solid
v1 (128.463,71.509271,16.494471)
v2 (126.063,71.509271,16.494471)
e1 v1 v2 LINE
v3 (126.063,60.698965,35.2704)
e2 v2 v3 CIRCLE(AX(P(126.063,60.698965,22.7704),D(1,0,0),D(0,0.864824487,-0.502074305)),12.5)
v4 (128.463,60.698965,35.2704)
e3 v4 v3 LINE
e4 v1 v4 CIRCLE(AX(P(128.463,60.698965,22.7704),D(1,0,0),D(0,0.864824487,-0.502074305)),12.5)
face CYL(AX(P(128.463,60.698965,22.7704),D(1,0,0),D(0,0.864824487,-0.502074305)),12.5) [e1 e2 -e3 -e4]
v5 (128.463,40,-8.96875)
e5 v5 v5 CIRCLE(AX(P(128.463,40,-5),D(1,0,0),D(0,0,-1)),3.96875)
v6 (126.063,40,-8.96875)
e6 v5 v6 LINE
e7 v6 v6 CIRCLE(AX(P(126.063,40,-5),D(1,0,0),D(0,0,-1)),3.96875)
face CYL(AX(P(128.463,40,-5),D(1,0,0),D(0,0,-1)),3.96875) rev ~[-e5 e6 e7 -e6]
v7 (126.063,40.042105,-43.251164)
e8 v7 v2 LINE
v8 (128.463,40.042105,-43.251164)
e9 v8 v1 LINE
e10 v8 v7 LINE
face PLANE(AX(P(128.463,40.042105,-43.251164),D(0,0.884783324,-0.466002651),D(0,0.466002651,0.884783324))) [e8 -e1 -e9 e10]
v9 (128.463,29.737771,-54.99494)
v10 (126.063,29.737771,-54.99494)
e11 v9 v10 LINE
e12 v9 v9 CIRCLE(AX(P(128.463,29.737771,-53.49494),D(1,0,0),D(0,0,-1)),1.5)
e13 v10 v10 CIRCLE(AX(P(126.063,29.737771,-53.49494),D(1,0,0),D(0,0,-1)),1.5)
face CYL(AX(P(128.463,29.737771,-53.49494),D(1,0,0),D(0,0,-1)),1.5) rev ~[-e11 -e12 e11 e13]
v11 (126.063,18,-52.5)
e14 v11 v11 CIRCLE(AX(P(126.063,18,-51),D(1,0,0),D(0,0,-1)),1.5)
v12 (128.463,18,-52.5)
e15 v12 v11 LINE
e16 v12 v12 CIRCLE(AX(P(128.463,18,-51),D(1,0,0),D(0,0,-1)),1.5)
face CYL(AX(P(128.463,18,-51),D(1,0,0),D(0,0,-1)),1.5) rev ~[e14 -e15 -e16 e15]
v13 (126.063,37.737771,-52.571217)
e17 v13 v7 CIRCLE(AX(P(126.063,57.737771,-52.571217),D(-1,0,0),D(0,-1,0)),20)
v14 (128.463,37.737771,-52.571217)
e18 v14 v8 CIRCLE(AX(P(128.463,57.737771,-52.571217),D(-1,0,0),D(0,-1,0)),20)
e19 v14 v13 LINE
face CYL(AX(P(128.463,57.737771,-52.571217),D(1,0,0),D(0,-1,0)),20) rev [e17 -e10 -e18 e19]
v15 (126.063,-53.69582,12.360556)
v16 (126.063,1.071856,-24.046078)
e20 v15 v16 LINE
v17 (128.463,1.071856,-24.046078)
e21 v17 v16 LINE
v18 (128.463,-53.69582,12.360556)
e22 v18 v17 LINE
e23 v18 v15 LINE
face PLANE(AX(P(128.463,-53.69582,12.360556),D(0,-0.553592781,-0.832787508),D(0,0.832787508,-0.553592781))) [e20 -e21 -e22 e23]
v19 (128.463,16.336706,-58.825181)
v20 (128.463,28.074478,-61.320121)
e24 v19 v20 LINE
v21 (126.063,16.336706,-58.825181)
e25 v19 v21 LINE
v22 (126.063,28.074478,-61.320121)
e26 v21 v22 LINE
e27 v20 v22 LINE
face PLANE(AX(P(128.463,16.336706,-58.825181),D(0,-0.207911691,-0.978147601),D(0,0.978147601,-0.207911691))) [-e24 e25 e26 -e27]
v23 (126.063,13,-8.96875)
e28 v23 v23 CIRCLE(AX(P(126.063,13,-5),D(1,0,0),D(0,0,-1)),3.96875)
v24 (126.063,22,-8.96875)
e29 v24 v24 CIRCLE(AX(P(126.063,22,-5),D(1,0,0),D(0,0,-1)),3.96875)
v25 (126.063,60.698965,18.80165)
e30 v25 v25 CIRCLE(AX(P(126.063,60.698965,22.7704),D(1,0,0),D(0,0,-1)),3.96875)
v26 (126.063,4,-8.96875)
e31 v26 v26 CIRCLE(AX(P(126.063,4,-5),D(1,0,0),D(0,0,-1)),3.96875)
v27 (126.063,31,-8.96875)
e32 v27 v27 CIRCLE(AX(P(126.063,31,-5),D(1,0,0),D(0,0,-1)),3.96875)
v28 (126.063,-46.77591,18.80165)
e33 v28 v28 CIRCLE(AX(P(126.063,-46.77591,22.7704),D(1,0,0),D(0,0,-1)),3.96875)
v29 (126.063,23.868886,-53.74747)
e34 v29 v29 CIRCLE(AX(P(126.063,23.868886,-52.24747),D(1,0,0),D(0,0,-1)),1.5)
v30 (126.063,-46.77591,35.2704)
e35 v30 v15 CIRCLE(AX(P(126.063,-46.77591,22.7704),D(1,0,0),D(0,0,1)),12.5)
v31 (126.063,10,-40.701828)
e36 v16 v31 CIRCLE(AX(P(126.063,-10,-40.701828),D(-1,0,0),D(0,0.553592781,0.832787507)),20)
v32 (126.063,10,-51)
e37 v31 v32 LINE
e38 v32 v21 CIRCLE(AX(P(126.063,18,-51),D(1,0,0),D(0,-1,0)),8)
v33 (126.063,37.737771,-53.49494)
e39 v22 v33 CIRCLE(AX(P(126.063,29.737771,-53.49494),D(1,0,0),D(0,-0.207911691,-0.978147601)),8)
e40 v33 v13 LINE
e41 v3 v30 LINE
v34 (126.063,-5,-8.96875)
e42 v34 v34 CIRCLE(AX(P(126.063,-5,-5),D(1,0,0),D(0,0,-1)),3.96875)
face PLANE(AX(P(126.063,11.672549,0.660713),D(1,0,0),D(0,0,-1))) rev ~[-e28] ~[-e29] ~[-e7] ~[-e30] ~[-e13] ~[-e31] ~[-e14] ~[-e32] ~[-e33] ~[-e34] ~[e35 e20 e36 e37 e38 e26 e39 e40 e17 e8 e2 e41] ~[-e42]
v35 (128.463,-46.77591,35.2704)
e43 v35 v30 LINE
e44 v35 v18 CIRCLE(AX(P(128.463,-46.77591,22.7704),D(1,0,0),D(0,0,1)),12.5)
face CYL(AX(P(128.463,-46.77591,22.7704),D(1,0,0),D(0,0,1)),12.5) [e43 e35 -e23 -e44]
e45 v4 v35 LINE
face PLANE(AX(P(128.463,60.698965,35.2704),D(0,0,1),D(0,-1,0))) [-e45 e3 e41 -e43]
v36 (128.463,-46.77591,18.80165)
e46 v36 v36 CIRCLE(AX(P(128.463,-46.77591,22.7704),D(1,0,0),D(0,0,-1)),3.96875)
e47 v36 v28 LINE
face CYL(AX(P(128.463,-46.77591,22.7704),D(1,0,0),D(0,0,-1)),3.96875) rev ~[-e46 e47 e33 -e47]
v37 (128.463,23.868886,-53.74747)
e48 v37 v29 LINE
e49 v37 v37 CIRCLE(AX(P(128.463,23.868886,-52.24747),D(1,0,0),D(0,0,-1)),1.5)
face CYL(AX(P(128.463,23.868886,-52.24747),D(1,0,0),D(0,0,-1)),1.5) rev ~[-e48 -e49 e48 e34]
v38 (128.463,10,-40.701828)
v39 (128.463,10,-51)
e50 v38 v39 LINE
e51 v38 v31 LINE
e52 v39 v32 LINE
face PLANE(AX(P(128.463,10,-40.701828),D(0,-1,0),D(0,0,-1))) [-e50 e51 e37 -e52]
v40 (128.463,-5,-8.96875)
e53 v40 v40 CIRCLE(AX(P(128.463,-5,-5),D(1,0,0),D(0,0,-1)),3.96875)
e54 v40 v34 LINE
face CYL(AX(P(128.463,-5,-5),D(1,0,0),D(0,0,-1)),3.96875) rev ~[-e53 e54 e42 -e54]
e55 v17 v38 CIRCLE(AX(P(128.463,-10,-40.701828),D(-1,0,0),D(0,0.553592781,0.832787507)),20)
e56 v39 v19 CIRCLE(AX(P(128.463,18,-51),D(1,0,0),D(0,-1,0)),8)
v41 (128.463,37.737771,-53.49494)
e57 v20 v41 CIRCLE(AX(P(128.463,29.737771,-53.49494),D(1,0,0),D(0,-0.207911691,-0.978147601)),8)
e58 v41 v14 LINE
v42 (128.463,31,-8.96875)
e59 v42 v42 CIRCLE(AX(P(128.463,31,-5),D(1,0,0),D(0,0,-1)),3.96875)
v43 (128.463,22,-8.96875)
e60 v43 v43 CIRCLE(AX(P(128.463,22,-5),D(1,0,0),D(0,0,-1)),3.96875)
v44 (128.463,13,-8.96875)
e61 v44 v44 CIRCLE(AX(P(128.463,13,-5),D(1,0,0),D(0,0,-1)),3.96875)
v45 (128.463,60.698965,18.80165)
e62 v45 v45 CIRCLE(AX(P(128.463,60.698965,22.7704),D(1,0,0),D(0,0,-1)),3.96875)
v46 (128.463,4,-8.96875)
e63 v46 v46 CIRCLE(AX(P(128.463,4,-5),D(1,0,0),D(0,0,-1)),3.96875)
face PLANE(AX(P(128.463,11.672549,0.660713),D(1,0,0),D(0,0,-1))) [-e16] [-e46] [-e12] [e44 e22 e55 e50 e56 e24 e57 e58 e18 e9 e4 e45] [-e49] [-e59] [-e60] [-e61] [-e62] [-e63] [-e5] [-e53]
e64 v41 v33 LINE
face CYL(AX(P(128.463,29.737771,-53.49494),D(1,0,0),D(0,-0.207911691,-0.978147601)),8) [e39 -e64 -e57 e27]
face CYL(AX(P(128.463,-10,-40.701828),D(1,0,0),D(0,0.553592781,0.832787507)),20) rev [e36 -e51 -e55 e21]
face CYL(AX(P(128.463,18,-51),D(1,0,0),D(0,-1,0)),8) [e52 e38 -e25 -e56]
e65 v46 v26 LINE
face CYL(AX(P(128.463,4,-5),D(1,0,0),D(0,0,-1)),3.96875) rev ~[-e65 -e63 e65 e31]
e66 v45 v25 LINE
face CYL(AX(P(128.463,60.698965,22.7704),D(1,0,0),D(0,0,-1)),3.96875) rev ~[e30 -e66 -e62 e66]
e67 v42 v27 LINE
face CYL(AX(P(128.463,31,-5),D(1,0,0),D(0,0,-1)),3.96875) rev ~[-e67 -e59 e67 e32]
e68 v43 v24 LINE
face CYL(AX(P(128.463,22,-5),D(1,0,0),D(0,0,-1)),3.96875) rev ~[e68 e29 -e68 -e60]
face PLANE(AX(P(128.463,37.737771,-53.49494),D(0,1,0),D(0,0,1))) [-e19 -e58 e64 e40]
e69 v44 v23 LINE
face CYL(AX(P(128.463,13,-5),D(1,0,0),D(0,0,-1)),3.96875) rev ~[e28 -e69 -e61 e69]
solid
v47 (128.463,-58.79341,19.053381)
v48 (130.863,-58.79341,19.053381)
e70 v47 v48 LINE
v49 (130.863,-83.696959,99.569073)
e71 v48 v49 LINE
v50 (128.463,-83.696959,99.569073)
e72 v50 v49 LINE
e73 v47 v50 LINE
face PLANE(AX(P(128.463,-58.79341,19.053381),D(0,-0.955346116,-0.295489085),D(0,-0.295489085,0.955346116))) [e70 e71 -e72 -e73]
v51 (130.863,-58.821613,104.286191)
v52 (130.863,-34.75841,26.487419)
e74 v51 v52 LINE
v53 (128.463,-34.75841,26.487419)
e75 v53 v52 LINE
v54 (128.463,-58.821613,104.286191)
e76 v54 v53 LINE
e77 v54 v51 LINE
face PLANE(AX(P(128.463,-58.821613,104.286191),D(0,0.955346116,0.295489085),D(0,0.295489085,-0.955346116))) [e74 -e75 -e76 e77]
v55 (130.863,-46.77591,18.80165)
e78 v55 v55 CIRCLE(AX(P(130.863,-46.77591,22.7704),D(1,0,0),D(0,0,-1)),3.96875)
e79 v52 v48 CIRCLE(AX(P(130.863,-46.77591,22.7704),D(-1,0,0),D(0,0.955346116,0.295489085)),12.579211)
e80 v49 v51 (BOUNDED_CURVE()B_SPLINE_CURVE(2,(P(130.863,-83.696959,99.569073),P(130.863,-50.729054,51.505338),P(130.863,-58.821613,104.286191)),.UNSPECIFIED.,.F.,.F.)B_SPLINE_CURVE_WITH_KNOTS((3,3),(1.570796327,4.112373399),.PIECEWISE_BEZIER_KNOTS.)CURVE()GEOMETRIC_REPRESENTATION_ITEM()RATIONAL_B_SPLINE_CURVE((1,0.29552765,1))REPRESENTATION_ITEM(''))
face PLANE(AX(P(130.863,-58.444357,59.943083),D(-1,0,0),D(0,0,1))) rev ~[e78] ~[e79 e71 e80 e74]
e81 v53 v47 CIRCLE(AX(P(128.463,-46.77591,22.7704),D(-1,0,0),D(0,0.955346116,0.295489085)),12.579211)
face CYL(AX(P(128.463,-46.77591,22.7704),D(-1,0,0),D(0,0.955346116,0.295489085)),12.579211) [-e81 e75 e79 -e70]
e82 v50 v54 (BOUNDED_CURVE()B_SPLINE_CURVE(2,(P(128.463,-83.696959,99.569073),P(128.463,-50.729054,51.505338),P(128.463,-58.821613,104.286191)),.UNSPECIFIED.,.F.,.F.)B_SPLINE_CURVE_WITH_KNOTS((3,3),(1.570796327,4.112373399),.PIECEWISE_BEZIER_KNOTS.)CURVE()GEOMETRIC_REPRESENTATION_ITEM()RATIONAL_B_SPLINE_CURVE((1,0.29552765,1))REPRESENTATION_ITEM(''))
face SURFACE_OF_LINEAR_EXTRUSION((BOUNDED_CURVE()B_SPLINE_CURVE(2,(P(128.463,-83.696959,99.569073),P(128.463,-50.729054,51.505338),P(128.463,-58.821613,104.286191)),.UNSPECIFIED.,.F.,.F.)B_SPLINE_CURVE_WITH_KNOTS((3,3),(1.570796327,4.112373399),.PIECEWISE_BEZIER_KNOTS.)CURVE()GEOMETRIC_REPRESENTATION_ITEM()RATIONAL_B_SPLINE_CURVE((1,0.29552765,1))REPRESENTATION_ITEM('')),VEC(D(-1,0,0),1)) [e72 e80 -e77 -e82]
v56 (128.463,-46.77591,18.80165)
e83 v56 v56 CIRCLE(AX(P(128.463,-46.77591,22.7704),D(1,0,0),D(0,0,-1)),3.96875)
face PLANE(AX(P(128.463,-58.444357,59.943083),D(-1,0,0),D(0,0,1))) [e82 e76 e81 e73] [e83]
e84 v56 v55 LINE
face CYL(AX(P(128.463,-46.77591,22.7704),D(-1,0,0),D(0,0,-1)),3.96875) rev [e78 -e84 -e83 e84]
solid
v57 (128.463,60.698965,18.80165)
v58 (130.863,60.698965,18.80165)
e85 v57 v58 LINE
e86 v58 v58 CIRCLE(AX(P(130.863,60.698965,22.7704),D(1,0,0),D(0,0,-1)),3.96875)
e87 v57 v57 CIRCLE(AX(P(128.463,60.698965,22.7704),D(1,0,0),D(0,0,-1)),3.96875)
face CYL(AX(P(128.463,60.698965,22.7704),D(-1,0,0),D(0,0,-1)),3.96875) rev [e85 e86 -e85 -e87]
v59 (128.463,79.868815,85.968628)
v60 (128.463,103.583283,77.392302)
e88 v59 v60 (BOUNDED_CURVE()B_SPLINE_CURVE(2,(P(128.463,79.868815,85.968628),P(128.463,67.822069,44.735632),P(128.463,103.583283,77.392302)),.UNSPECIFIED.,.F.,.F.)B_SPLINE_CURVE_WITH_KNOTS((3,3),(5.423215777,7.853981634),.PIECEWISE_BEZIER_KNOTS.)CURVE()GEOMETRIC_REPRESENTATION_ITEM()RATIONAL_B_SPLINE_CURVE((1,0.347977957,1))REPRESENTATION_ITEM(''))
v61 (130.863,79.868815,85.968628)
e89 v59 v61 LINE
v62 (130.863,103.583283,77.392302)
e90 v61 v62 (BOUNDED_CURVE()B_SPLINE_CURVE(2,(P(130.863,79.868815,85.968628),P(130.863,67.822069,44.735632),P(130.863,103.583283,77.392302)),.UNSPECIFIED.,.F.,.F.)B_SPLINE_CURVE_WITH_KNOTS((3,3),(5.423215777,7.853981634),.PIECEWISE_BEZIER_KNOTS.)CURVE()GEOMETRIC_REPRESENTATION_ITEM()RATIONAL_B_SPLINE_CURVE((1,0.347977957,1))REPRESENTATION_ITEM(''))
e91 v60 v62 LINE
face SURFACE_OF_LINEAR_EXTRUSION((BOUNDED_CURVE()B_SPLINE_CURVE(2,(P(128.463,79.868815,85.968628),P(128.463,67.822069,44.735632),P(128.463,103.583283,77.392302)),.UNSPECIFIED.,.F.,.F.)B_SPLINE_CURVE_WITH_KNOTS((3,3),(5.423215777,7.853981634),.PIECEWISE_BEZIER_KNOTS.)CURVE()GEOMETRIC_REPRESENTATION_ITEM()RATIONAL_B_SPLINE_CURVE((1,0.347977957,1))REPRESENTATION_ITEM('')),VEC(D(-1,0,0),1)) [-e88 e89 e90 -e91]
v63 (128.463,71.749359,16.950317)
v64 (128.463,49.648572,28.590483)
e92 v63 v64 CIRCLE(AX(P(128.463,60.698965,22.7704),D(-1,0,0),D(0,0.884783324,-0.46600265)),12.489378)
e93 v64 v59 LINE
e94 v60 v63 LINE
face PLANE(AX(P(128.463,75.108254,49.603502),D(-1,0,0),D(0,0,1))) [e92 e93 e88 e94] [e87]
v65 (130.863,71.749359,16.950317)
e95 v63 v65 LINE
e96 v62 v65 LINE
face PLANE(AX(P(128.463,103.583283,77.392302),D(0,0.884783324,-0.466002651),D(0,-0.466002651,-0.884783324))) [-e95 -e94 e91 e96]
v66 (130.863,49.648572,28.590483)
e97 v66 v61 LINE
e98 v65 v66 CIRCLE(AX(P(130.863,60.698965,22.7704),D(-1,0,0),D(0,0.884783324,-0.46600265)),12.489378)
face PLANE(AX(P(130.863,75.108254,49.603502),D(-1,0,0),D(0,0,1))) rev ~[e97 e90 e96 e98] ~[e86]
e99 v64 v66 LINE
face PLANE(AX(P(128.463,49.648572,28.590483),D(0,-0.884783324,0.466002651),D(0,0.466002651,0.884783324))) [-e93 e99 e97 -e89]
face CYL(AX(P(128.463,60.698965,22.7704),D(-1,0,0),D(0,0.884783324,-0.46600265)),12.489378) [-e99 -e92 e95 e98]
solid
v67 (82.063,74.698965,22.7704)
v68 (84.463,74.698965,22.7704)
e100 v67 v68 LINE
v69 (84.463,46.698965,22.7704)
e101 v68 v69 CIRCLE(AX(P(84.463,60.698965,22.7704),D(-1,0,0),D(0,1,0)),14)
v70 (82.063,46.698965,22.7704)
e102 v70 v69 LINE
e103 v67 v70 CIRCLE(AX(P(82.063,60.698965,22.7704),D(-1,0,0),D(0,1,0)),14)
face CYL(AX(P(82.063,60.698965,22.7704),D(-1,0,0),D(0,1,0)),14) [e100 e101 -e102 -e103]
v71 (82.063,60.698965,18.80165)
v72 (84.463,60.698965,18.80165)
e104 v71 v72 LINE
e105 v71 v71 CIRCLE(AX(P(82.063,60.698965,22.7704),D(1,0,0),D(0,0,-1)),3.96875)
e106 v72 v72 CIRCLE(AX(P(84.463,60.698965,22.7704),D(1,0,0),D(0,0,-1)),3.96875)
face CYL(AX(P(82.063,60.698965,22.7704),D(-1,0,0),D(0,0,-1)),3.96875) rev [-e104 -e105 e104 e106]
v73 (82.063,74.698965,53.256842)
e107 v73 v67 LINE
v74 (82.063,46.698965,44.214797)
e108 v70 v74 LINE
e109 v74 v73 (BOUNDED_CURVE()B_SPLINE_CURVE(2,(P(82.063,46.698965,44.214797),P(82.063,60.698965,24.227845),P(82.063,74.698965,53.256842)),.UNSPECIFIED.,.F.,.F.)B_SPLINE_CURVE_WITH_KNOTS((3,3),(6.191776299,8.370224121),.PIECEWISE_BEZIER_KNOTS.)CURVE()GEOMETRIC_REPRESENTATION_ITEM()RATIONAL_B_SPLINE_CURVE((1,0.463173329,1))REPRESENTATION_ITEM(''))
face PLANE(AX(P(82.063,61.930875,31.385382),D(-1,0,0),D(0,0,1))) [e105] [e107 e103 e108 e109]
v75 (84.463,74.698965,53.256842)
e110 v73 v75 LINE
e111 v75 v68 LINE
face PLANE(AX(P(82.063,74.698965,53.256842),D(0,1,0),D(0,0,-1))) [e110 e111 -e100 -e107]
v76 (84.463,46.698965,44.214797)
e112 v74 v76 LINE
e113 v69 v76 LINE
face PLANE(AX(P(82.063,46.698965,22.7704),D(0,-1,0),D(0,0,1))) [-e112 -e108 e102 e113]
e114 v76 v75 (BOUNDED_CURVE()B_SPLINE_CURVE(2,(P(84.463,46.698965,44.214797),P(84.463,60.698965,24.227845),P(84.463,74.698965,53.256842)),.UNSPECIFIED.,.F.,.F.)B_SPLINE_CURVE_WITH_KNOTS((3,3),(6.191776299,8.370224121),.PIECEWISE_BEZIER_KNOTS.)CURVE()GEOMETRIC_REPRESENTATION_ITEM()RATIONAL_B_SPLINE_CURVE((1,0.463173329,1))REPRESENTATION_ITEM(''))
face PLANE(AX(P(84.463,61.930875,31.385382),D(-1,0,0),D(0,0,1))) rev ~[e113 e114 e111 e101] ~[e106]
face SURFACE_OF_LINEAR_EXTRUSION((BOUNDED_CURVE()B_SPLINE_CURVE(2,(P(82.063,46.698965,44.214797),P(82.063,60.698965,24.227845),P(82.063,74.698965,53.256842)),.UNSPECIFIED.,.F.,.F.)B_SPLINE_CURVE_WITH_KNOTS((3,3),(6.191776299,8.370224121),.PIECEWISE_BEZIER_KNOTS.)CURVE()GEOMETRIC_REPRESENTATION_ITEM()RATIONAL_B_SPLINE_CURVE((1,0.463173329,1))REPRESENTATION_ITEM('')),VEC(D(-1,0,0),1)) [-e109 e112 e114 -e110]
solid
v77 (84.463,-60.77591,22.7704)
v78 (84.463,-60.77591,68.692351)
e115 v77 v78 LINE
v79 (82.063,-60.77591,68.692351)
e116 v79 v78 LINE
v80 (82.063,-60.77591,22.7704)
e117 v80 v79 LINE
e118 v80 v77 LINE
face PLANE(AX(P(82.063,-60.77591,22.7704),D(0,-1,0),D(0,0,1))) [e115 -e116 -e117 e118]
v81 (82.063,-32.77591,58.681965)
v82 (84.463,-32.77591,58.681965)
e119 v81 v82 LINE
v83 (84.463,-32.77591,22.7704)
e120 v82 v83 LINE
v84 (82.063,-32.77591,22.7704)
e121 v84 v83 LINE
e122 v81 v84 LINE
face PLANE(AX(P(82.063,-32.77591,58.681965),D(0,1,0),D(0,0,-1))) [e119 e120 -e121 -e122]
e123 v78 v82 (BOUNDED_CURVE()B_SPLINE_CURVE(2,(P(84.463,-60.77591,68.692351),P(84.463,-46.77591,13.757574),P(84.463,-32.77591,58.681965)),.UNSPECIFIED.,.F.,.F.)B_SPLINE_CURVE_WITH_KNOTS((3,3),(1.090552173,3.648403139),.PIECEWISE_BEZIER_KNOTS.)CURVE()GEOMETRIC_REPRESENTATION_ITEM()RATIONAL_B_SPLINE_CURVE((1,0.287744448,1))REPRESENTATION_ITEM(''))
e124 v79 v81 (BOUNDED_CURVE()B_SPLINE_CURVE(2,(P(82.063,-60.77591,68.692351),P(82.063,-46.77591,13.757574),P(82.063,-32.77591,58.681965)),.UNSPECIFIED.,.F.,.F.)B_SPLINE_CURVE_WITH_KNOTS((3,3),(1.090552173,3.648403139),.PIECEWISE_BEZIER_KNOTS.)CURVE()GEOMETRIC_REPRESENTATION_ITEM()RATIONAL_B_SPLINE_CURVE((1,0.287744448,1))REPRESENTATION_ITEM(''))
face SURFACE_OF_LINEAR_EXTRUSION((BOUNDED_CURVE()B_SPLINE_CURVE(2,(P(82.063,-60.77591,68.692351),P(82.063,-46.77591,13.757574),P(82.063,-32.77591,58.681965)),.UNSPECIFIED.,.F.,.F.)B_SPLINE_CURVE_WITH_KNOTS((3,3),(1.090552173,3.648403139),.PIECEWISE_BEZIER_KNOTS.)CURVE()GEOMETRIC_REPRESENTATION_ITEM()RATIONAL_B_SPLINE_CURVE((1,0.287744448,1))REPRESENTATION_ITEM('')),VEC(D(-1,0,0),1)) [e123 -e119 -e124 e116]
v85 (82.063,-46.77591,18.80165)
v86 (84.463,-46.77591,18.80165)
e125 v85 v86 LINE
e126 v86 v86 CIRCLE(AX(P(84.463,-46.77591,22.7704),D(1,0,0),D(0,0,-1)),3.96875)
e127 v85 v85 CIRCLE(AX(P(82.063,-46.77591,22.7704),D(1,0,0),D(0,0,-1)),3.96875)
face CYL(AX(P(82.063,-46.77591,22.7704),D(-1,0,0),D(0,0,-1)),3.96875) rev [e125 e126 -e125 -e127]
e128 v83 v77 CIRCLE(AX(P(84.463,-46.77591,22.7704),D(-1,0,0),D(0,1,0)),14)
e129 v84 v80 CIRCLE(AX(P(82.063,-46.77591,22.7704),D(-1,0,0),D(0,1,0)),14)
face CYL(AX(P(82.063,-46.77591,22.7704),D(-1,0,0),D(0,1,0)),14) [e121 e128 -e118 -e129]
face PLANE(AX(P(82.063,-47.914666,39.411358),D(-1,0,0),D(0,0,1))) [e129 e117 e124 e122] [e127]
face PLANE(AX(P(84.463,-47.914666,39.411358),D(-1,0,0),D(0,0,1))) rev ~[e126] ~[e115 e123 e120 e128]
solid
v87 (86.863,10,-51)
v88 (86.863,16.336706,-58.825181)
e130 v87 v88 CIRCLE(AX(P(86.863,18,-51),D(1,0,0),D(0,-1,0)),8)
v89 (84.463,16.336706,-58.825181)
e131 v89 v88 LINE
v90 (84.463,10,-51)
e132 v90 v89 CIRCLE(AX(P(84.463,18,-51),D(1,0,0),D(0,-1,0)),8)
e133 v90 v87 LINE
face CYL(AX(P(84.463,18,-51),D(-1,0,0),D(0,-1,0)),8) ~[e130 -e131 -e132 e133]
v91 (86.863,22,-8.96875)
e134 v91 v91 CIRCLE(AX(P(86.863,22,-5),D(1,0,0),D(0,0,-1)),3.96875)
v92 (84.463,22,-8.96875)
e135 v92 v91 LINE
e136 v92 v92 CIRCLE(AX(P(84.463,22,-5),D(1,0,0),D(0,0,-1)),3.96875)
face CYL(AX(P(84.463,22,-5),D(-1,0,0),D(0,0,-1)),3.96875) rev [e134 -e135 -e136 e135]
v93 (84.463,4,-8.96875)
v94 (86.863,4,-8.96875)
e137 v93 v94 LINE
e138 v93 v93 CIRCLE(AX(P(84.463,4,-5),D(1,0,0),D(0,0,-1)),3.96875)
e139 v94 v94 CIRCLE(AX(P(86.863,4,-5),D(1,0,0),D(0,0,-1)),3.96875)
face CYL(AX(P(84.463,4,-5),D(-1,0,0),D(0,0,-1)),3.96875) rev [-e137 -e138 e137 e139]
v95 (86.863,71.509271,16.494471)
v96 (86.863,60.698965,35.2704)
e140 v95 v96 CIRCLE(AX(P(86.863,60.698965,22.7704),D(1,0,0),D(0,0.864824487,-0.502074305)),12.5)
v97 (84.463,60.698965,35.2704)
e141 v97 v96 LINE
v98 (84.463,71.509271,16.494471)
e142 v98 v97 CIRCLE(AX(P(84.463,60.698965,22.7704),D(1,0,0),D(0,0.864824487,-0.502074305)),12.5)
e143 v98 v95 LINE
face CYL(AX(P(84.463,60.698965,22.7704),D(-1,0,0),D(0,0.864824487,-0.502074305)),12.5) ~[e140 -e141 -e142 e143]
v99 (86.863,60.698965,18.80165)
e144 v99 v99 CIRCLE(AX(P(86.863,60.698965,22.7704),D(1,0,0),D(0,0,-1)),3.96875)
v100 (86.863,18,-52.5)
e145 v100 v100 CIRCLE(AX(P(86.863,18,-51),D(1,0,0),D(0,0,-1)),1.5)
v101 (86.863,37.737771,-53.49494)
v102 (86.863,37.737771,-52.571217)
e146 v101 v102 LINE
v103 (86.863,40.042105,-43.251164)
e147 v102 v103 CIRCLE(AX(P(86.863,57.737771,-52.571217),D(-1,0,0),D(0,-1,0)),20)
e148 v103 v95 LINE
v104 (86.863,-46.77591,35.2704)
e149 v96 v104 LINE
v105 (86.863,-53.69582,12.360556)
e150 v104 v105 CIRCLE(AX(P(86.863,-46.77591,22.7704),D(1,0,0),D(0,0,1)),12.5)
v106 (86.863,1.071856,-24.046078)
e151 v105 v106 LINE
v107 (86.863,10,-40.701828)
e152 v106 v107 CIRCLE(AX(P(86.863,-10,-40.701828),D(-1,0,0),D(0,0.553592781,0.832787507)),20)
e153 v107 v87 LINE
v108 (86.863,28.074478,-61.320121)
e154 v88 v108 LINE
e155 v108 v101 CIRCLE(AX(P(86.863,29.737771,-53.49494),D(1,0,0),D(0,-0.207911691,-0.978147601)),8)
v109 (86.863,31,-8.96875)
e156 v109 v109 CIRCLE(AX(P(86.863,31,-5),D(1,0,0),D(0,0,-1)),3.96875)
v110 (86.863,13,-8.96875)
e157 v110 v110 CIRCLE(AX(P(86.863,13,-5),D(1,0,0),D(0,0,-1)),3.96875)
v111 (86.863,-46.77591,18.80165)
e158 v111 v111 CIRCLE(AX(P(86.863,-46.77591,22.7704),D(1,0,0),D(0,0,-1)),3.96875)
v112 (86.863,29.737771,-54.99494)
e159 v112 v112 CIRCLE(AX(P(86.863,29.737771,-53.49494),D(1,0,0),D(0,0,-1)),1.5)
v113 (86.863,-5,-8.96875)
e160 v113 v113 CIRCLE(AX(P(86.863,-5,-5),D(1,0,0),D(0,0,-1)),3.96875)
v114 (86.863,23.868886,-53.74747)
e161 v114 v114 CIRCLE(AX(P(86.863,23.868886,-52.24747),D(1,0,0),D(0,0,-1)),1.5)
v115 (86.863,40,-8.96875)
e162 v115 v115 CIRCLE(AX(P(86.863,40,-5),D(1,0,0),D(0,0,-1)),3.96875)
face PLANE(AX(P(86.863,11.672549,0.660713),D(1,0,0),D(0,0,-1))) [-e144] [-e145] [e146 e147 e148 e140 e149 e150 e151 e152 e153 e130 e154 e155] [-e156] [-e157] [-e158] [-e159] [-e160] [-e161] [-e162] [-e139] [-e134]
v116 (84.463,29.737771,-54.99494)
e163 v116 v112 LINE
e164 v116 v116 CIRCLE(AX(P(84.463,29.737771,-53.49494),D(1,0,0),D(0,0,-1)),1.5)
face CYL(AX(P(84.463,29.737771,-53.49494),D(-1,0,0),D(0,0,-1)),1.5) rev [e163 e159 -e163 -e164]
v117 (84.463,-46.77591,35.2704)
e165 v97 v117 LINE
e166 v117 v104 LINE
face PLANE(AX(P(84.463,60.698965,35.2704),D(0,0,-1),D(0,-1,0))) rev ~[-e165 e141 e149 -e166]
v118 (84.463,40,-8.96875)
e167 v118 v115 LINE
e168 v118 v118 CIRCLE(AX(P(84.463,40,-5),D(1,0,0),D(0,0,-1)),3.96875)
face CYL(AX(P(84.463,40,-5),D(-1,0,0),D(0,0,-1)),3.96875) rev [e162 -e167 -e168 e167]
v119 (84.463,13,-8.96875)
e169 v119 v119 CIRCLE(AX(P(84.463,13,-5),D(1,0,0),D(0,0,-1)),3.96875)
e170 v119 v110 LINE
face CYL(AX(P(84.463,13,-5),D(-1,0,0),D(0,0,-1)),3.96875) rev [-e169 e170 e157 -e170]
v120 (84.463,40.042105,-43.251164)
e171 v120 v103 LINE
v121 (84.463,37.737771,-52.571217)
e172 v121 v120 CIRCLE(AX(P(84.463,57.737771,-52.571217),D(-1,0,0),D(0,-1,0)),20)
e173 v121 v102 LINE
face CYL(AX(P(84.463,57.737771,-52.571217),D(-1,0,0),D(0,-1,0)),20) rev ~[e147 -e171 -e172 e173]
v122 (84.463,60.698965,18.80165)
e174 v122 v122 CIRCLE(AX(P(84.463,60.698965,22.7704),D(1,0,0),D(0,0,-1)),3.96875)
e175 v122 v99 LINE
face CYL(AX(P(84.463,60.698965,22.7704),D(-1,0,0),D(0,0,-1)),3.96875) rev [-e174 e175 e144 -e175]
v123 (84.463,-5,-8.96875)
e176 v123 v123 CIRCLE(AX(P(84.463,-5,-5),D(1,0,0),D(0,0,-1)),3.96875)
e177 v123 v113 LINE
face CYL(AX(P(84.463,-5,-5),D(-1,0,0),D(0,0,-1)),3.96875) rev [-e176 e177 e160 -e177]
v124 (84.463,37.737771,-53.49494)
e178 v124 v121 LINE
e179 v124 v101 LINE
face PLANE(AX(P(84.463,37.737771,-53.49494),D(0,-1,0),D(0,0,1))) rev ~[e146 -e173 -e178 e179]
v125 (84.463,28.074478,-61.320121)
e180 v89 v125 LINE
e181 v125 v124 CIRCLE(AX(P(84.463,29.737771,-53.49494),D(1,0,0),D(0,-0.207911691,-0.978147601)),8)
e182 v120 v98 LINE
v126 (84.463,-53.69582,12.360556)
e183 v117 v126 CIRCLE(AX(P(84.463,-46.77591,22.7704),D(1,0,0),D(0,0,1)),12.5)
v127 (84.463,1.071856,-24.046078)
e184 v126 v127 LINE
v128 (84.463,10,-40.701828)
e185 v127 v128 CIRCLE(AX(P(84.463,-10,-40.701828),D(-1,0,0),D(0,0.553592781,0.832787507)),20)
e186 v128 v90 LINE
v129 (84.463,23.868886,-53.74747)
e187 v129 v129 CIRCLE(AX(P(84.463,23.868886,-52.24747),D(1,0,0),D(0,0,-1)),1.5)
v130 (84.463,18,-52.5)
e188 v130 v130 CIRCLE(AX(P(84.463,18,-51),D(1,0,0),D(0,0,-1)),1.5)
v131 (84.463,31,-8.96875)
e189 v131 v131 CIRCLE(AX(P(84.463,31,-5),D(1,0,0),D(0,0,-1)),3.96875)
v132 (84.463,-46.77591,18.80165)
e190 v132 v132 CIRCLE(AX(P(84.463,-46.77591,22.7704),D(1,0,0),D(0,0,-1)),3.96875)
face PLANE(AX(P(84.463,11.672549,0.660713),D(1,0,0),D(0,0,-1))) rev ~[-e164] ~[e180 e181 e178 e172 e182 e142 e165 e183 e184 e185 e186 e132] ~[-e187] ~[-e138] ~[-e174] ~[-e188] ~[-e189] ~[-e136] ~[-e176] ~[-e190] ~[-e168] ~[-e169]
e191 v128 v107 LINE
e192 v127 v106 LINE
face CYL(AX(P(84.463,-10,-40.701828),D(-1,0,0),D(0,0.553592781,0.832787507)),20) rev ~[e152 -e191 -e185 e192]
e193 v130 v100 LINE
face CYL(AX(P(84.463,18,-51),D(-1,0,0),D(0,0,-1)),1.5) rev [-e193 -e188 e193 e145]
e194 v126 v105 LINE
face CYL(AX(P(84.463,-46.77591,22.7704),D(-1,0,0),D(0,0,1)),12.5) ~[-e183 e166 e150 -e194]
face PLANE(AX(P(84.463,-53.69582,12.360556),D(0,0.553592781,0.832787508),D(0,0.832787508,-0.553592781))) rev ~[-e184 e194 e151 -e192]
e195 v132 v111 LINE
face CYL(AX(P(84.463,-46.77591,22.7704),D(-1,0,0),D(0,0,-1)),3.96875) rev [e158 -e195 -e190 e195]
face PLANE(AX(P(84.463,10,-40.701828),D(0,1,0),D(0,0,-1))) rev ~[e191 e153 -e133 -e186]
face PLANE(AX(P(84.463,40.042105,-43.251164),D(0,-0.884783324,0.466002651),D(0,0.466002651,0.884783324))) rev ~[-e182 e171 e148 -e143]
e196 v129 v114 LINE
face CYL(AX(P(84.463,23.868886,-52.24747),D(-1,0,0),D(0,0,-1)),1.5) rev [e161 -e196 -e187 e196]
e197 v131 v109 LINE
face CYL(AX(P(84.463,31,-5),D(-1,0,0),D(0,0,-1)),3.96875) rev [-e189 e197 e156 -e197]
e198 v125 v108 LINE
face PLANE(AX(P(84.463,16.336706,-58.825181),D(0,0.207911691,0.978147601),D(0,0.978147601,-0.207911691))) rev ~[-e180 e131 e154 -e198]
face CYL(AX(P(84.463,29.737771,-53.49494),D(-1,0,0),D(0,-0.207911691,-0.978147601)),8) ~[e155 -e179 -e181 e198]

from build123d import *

# Parameters (mm, degrees)
SKETCH1_ON_SEGMENT_1_R          = 12.7
SKETCH1_ON_SEGMENT_1_R_2        = 11.7
STRUCTURAL_MEMBER1_DEPTH        = 319.110282105
SKETCH1_R                       = 12.7
SKETCH1_R_2                     = 11.7
STRUCTURAL_MEMBER1_2_DEPTH      = 348.268544896
STRUCTURAL_MEMBER1_2_DEPTH_BACK = 35.176416566
SKETCH13_R                      = 3.96875
BOSS_EXTRUDE2_DEPTH             = 2.4
BOSS_EXTRUDE2_2_DEPTH           = 2.4
SKETCH12_R                      = 3.96875
BOSS_EXTRUDE6_DEPTH             = 2.4
BOSS_EXTRUDE6_2_DEPTH           = 2.4
SKETCH15_R                      = 1.5
SKETCH15_R_2                    = 3.96875
BOSS_EXTRUDE5_DEPTH             = 2.4
BOSS_EXTRUDE9_START             = 44
SKETCH15_4_R                    = 1.5
SKETCH15_4_R_2                  = 3.96875
BOSS_EXTRUDE9_DEPTH             = 2.4


with BuildPart() as part:
    # Sketch1 on segment 1 (carried to segment 1) → Structural Member1 (new body)
    with BuildSketch(Plane(origin=(200, -114, 166.2), x_dir=(0.662842595, 0.077067996, -0.744781994), z_dir=(-0.704389382, 0.401501948, -0.585347576))):
        Circle(SKETCH1_ON_SEGMENT_1_R)
        Circle(SKETCH1_ON_SEGMENT_1_R_2, mode=Mode.SUBTRACT)
    extrude(amount=STRUCTURAL_MEMBER1_DEPTH)

    # Structural Member1 mitre 1
    split(bisect_by=Plane(origin=(0, 0, 0), x_dir=(0.999997347, -0.002303489, 0), z_dir=(-0.00228788, -0.993220961, 0.116219136)), keep=Keep.TOP)


with BuildPart() as body_2:
    # Sketch1 → Structural Member1 2 (new, two sides)
    with BuildSketch(Plane(origin=(0, 0, 0), x_dir=(0.6620893332856919, -0.2499400195970222, -0.7065180120514609), z_dir=(0.706518012051461, 0.5225852367871229, 0.4772179470001087))) as structural_member1_2_sk:
        Circle(SKETCH1_R)
        Circle(SKETCH1_R_2, mode=Mode.SUBTRACT)
    extrude(amount=STRUCTURAL_MEMBER1_2_DEPTH)
    extrude(structural_member1_2_sk.sketch, amount=-STRUCTURAL_MEMBER1_2_DEPTH_BACK)

    # Structural Member1 2 mitre 1
    split(bisect_by=Plane(origin=(0, 0, 0), x_dir=(-0.999997347, 0.002303489, 0), z_dir=(0.00228788, 0.993220961, -0.116219136)), keep=Keep.TOP)


with BuildPart() as body_3:
    # Sketch13 → Boss-Extrude2 (new body)
    with BuildSketch(Plane(origin=(82.063, 0, 0), x_dir=(0, 0, -1), z_dir=(1, 0, 0))):
        with BuildLine():
            Line((-53.256842147, 74.698965285), (-22.7704, 74.698965285))
            ThreePointArc((-22.7704, 74.698965285), (-8.7704, 60.698965285), (-22.7704, 46.698965285))
            Line((-22.7704, 46.698965285), (-44.214796592, 46.698965285))
            add(Edge.make_bspline(
                [(-44.214796592, 46.698965285), (-24.227845102, 60.698965285), (-53.256842147, 74.698965285)],
                knots=[6.191776299, 6.191776299, 6.191776299, 8.370224121, 8.370224121, 8.370224121], degree=2, weights=[1, 0.463173329, 1]))
        make_face()
        with Locations((-22.7704, 60.698965285)):
            Circle(SKETCH13_R, mode=Mode.SUBTRACT)
    extrude(amount=BOSS_EXTRUDE2_DEPTH)


with BuildPart() as body_4:
    # Sketch13 → Boss-Extrude2 2 (new body)
    with BuildSketch(Plane(origin=(82.063, 0, 0), x_dir=(0, 0, -1), z_dir=(1, 0, 0))):
        with BuildLine():
            Line((-22.7704, -60.77591), (-68.692351102, -60.77591))
            add(Edge.make_bspline(
                [(-68.692351102, -60.77591), (-13.757574346, -46.77591), (-58.681965412, -32.77591)],
                knots=[1.090552173, 1.090552173, 1.090552173, 3.648403139, 3.648403139, 3.648403139], degree=2, weights=[1, 0.287744448, 1]))
            Line((-58.681965412, -32.77591), (-22.7704, -32.77591))
            ThreePointArc((-22.7704, -32.77591), (-8.7704, -46.77591), (-22.7704, -60.77591))
        make_face()
        with Locations((-22.7704, -46.77591)):
            Circle(SKETCH13_R, mode=Mode.SUBTRACT)
    extrude(amount=BOSS_EXTRUDE2_2_DEPTH)


with BuildPart() as body_5:
    # Sketch12 → Boss-Extrude6 (new body)
    with BuildSketch(Plane(origin=(128.463, 0, 0), x_dir=(0, 0, -1), z_dir=(1, 0, 0))):
        with BuildLine():
            Line((-77.392301625, 103.583282752), (-16.950316747, 71.749358664))
            ThreePointArc((-16.950316747, 71.749358664), (-11.72000662, 54.878882031), (-28.590483253, 49.648571905))
            Line((-28.590483253, 49.648571905), (-85.968627694, 79.868815302))
            add(Edge.make_bspline(
                [(-85.968627694, 79.868815302), (-44.735632447, 67.82206861), (-77.392301625, 103.583282752)],
                knots=[5.423215777, 5.423215777, 5.423215777, 7.853981634, 7.853981634, 7.853981634], degree=2, weights=[1, 0.347977957, 1]))
        make_face()
        with Locations((-22.7704, 60.698965285)):
            Circle(SKETCH12_R, mode=Mode.SUBTRACT)
    extrude(amount=BOSS_EXTRUDE6_DEPTH)


with BuildPart() as body_6:
    # Sketch12 → Boss-Extrude6 2 (new body)
    with BuildSketch(Plane(origin=(128.463, 0, 0), x_dir=(0, 0, -1), z_dir=(1, 0, 0))):
        with BuildLine():
            Line((-19.05338055, -58.793410054), (-99.569073428, -83.696958639))
            add(Edge.make_bspline(
                [(-99.569073428, -83.696958639), (-51.5053381, -50.729053541), (-104.286190741, -58.821613174)],
                knots=[1.570796327, 1.570796327, 1.570796327, 4.112373399, 4.112373399, 4.112373399], degree=2, weights=[1, 0.29552765, 1]))
            Line((-104.286190741, -58.821613174), (-26.48741945, -34.758409946))
            ThreePointArc((-26.48741945, -34.758409946), (-10.752899946, -43.05889055), (-19.05338055, -58.793410054))
        make_face()
        with Locations((-22.7704, -46.77591)):
            Circle(SKETCH12_R, mode=Mode.SUBTRACT)
    extrude(amount=BOSS_EXTRUDE6_2_DEPTH)


with BuildPart() as body_7:
    # Sketch15 → Boss-Extrude5 (new body)
    with BuildSketch(Plane(origin=(84.463, 0, 0), x_dir=(0, 0, -1), z_dir=(1, 0, 0))):
        with BuildLine():
            Line((-35.2704, 60.698965285), (-35.2704, -46.77591))
            ThreePointArc((-35.2704, -46.77591), (-26.38474309, -58.741967163), (-12.360556156, -53.695819764))
            Line((-12.360556156, -53.695819764), (24.046077536, 1.071855622))
            ThreePointArc((24.046077536, 1.071855622), (31.252941839, 7.627210676), (40.701827687, 10))
            Line((40.701827687, 10), (51, 10))
            ThreePointArc((51, 10), (56.034563128, 11.782832308), (58.825180806, 16.336706473))
            Line((58.825180806, 16.336706473), (61.320121096, 28.074477682))
            ThreePointArc((61.320121096, 28.074477682), (59.712107981, 34.772334337), (53.49494029, 37.737771209))
            Line((53.49494029, 37.737771209), (52.571216833, 37.737771209))
            ThreePointArc((52.571216833, 37.737771209), (47.77086942, 38.322399342), (43.251163822, 40.042104737))
            Line((43.251163822, 40.042104737), (-16.494471191, 71.509271367))
            ThreePointArc((-16.494471191, 71.509271367), (-29.007422122, 71.531765248), (-35.2704, 60.698965285))
        make_face()
        with Locations((52.247470145, 23.868885604)):
            Circle(SKETCH15_R, mode=Mode.SUBTRACT)
        with Locations((53.49494029, 29.737771209)):
            Circle(SKETCH15_R, mode=Mode.SUBTRACT)
        with Locations((5, -5)):
            Circle(SKETCH15_R_2, mode=Mode.SUBTRACT)
        with Locations((51, 18)):
            Circle(SKETCH15_R, mode=Mode.SUBTRACT)
        with Locations((5, 4)):
            Circle(SKETCH15_R_2, mode=Mode.SUBTRACT)
        with Locations((5, 13)):
            Circle(SKETCH15_R_2, mode=Mode.SUBTRACT)
        with Locations((-22.7704, -46.77591)):
            Circle(SKETCH15_R_2, mode=Mode.SUBTRACT)
        with Locations((-22.7704, 60.698965285)):
            Circle(SKETCH15_R_2, mode=Mode.SUBTRACT)
        with Locations((5, 22)):
            Circle(SKETCH15_R_2, mode=Mode.SUBTRACT)
        with Locations((5, 31)):
            Circle(SKETCH15_R_2, mode=Mode.SUBTRACT)
        with Locations((5, 40)):
            Circle(SKETCH15_R_2, mode=Mode.SUBTRACT)
    extrude(amount=BOSS_EXTRUDE5_DEPTH)


with BuildPart() as body_8:
    # Sketch15_4 → Boss-Extrude9 (new body)
    with BuildSketch(Plane(origin=(84.463, 0, 0), x_dir=(0, 0, -1), z_dir=(1, 0, 0)).offset(BOSS_EXTRUDE9_START)):
        with BuildLine():
            Line((-35.2704, 60.698965285), (-35.2704, -46.77591))
            ThreePointArc((-35.2704, -46.77591), (-26.38474309, -58.741967163), (-12.360556156, -53.695819764))
            Line((-12.360556156, -53.695819764), (24.046077536, 1.071855622))
            ThreePointArc((24.046077536, 1.071855622), (31.252941839, 7.627210676), (40.701827687, 10))
            Line((40.701827687, 10), (51, 10))
            ThreePointArc((51, 10), (56.034563128, 11.782832308), (58.825180806, 16.336706473))
            Line((58.825180806, 16.336706473), (61.320121096, 28.074477682))
            ThreePointArc((61.320121096, 28.074477682), (59.712107981, 34.772334337), (53.49494029, 37.737771209))
            Line((53.49494029, 37.737771209), (52.571216833, 37.737771209))
            ThreePointArc((52.571216833, 37.737771209), (47.77086942, 38.322399342), (43.251163822, 40.042104737))
            Line((43.251163822, 40.042104737), (-16.494471191, 71.509271367))
            ThreePointArc((-16.494471191, 71.509271367), (-29.007422122, 71.531765248), (-35.2704, 60.698965285))
        make_face()
        with Locations((52.247470145, 23.868885604)):
            Circle(SKETCH15_4_R, mode=Mode.SUBTRACT)
        with Locations((53.49494029, 29.737771209)):
            Circle(SKETCH15_4_R, mode=Mode.SUBTRACT)
        with Locations((5, -5)):
            Circle(SKETCH15_4_R_2, mode=Mode.SUBTRACT)
        with Locations((51, 18)):
            Circle(SKETCH15_4_R, mode=Mode.SUBTRACT)
        with Locations((5, 4)):
            Circle(SKETCH15_4_R_2, mode=Mode.SUBTRACT)
        with Locations((5, 13)):
            Circle(SKETCH15_4_R_2, mode=Mode.SUBTRACT)
        with Locations((-22.7704, -46.77591)):
            Circle(SKETCH15_4_R_2, mode=Mode.SUBTRACT)
        with Locations((-22.7704, 60.698965285)):
            Circle(SKETCH15_4_R_2, mode=Mode.SUBTRACT)
        with Locations((5, 22)):
            Circle(SKETCH15_4_R_2, mode=Mode.SUBTRACT)
        with Locations((5, 31)):
            Circle(SKETCH15_4_R_2, mode=Mode.SUBTRACT)
        with Locations((5, 40)):
            Circle(SKETCH15_4_R_2, mode=Mode.SUBTRACT)
    extrude(amount=-BOSS_EXTRUDE9_DEPTH)


solid = Compound([body_3.part, body_4.part, body_5.part, body_6.part, body_7.part, body_8.part])
